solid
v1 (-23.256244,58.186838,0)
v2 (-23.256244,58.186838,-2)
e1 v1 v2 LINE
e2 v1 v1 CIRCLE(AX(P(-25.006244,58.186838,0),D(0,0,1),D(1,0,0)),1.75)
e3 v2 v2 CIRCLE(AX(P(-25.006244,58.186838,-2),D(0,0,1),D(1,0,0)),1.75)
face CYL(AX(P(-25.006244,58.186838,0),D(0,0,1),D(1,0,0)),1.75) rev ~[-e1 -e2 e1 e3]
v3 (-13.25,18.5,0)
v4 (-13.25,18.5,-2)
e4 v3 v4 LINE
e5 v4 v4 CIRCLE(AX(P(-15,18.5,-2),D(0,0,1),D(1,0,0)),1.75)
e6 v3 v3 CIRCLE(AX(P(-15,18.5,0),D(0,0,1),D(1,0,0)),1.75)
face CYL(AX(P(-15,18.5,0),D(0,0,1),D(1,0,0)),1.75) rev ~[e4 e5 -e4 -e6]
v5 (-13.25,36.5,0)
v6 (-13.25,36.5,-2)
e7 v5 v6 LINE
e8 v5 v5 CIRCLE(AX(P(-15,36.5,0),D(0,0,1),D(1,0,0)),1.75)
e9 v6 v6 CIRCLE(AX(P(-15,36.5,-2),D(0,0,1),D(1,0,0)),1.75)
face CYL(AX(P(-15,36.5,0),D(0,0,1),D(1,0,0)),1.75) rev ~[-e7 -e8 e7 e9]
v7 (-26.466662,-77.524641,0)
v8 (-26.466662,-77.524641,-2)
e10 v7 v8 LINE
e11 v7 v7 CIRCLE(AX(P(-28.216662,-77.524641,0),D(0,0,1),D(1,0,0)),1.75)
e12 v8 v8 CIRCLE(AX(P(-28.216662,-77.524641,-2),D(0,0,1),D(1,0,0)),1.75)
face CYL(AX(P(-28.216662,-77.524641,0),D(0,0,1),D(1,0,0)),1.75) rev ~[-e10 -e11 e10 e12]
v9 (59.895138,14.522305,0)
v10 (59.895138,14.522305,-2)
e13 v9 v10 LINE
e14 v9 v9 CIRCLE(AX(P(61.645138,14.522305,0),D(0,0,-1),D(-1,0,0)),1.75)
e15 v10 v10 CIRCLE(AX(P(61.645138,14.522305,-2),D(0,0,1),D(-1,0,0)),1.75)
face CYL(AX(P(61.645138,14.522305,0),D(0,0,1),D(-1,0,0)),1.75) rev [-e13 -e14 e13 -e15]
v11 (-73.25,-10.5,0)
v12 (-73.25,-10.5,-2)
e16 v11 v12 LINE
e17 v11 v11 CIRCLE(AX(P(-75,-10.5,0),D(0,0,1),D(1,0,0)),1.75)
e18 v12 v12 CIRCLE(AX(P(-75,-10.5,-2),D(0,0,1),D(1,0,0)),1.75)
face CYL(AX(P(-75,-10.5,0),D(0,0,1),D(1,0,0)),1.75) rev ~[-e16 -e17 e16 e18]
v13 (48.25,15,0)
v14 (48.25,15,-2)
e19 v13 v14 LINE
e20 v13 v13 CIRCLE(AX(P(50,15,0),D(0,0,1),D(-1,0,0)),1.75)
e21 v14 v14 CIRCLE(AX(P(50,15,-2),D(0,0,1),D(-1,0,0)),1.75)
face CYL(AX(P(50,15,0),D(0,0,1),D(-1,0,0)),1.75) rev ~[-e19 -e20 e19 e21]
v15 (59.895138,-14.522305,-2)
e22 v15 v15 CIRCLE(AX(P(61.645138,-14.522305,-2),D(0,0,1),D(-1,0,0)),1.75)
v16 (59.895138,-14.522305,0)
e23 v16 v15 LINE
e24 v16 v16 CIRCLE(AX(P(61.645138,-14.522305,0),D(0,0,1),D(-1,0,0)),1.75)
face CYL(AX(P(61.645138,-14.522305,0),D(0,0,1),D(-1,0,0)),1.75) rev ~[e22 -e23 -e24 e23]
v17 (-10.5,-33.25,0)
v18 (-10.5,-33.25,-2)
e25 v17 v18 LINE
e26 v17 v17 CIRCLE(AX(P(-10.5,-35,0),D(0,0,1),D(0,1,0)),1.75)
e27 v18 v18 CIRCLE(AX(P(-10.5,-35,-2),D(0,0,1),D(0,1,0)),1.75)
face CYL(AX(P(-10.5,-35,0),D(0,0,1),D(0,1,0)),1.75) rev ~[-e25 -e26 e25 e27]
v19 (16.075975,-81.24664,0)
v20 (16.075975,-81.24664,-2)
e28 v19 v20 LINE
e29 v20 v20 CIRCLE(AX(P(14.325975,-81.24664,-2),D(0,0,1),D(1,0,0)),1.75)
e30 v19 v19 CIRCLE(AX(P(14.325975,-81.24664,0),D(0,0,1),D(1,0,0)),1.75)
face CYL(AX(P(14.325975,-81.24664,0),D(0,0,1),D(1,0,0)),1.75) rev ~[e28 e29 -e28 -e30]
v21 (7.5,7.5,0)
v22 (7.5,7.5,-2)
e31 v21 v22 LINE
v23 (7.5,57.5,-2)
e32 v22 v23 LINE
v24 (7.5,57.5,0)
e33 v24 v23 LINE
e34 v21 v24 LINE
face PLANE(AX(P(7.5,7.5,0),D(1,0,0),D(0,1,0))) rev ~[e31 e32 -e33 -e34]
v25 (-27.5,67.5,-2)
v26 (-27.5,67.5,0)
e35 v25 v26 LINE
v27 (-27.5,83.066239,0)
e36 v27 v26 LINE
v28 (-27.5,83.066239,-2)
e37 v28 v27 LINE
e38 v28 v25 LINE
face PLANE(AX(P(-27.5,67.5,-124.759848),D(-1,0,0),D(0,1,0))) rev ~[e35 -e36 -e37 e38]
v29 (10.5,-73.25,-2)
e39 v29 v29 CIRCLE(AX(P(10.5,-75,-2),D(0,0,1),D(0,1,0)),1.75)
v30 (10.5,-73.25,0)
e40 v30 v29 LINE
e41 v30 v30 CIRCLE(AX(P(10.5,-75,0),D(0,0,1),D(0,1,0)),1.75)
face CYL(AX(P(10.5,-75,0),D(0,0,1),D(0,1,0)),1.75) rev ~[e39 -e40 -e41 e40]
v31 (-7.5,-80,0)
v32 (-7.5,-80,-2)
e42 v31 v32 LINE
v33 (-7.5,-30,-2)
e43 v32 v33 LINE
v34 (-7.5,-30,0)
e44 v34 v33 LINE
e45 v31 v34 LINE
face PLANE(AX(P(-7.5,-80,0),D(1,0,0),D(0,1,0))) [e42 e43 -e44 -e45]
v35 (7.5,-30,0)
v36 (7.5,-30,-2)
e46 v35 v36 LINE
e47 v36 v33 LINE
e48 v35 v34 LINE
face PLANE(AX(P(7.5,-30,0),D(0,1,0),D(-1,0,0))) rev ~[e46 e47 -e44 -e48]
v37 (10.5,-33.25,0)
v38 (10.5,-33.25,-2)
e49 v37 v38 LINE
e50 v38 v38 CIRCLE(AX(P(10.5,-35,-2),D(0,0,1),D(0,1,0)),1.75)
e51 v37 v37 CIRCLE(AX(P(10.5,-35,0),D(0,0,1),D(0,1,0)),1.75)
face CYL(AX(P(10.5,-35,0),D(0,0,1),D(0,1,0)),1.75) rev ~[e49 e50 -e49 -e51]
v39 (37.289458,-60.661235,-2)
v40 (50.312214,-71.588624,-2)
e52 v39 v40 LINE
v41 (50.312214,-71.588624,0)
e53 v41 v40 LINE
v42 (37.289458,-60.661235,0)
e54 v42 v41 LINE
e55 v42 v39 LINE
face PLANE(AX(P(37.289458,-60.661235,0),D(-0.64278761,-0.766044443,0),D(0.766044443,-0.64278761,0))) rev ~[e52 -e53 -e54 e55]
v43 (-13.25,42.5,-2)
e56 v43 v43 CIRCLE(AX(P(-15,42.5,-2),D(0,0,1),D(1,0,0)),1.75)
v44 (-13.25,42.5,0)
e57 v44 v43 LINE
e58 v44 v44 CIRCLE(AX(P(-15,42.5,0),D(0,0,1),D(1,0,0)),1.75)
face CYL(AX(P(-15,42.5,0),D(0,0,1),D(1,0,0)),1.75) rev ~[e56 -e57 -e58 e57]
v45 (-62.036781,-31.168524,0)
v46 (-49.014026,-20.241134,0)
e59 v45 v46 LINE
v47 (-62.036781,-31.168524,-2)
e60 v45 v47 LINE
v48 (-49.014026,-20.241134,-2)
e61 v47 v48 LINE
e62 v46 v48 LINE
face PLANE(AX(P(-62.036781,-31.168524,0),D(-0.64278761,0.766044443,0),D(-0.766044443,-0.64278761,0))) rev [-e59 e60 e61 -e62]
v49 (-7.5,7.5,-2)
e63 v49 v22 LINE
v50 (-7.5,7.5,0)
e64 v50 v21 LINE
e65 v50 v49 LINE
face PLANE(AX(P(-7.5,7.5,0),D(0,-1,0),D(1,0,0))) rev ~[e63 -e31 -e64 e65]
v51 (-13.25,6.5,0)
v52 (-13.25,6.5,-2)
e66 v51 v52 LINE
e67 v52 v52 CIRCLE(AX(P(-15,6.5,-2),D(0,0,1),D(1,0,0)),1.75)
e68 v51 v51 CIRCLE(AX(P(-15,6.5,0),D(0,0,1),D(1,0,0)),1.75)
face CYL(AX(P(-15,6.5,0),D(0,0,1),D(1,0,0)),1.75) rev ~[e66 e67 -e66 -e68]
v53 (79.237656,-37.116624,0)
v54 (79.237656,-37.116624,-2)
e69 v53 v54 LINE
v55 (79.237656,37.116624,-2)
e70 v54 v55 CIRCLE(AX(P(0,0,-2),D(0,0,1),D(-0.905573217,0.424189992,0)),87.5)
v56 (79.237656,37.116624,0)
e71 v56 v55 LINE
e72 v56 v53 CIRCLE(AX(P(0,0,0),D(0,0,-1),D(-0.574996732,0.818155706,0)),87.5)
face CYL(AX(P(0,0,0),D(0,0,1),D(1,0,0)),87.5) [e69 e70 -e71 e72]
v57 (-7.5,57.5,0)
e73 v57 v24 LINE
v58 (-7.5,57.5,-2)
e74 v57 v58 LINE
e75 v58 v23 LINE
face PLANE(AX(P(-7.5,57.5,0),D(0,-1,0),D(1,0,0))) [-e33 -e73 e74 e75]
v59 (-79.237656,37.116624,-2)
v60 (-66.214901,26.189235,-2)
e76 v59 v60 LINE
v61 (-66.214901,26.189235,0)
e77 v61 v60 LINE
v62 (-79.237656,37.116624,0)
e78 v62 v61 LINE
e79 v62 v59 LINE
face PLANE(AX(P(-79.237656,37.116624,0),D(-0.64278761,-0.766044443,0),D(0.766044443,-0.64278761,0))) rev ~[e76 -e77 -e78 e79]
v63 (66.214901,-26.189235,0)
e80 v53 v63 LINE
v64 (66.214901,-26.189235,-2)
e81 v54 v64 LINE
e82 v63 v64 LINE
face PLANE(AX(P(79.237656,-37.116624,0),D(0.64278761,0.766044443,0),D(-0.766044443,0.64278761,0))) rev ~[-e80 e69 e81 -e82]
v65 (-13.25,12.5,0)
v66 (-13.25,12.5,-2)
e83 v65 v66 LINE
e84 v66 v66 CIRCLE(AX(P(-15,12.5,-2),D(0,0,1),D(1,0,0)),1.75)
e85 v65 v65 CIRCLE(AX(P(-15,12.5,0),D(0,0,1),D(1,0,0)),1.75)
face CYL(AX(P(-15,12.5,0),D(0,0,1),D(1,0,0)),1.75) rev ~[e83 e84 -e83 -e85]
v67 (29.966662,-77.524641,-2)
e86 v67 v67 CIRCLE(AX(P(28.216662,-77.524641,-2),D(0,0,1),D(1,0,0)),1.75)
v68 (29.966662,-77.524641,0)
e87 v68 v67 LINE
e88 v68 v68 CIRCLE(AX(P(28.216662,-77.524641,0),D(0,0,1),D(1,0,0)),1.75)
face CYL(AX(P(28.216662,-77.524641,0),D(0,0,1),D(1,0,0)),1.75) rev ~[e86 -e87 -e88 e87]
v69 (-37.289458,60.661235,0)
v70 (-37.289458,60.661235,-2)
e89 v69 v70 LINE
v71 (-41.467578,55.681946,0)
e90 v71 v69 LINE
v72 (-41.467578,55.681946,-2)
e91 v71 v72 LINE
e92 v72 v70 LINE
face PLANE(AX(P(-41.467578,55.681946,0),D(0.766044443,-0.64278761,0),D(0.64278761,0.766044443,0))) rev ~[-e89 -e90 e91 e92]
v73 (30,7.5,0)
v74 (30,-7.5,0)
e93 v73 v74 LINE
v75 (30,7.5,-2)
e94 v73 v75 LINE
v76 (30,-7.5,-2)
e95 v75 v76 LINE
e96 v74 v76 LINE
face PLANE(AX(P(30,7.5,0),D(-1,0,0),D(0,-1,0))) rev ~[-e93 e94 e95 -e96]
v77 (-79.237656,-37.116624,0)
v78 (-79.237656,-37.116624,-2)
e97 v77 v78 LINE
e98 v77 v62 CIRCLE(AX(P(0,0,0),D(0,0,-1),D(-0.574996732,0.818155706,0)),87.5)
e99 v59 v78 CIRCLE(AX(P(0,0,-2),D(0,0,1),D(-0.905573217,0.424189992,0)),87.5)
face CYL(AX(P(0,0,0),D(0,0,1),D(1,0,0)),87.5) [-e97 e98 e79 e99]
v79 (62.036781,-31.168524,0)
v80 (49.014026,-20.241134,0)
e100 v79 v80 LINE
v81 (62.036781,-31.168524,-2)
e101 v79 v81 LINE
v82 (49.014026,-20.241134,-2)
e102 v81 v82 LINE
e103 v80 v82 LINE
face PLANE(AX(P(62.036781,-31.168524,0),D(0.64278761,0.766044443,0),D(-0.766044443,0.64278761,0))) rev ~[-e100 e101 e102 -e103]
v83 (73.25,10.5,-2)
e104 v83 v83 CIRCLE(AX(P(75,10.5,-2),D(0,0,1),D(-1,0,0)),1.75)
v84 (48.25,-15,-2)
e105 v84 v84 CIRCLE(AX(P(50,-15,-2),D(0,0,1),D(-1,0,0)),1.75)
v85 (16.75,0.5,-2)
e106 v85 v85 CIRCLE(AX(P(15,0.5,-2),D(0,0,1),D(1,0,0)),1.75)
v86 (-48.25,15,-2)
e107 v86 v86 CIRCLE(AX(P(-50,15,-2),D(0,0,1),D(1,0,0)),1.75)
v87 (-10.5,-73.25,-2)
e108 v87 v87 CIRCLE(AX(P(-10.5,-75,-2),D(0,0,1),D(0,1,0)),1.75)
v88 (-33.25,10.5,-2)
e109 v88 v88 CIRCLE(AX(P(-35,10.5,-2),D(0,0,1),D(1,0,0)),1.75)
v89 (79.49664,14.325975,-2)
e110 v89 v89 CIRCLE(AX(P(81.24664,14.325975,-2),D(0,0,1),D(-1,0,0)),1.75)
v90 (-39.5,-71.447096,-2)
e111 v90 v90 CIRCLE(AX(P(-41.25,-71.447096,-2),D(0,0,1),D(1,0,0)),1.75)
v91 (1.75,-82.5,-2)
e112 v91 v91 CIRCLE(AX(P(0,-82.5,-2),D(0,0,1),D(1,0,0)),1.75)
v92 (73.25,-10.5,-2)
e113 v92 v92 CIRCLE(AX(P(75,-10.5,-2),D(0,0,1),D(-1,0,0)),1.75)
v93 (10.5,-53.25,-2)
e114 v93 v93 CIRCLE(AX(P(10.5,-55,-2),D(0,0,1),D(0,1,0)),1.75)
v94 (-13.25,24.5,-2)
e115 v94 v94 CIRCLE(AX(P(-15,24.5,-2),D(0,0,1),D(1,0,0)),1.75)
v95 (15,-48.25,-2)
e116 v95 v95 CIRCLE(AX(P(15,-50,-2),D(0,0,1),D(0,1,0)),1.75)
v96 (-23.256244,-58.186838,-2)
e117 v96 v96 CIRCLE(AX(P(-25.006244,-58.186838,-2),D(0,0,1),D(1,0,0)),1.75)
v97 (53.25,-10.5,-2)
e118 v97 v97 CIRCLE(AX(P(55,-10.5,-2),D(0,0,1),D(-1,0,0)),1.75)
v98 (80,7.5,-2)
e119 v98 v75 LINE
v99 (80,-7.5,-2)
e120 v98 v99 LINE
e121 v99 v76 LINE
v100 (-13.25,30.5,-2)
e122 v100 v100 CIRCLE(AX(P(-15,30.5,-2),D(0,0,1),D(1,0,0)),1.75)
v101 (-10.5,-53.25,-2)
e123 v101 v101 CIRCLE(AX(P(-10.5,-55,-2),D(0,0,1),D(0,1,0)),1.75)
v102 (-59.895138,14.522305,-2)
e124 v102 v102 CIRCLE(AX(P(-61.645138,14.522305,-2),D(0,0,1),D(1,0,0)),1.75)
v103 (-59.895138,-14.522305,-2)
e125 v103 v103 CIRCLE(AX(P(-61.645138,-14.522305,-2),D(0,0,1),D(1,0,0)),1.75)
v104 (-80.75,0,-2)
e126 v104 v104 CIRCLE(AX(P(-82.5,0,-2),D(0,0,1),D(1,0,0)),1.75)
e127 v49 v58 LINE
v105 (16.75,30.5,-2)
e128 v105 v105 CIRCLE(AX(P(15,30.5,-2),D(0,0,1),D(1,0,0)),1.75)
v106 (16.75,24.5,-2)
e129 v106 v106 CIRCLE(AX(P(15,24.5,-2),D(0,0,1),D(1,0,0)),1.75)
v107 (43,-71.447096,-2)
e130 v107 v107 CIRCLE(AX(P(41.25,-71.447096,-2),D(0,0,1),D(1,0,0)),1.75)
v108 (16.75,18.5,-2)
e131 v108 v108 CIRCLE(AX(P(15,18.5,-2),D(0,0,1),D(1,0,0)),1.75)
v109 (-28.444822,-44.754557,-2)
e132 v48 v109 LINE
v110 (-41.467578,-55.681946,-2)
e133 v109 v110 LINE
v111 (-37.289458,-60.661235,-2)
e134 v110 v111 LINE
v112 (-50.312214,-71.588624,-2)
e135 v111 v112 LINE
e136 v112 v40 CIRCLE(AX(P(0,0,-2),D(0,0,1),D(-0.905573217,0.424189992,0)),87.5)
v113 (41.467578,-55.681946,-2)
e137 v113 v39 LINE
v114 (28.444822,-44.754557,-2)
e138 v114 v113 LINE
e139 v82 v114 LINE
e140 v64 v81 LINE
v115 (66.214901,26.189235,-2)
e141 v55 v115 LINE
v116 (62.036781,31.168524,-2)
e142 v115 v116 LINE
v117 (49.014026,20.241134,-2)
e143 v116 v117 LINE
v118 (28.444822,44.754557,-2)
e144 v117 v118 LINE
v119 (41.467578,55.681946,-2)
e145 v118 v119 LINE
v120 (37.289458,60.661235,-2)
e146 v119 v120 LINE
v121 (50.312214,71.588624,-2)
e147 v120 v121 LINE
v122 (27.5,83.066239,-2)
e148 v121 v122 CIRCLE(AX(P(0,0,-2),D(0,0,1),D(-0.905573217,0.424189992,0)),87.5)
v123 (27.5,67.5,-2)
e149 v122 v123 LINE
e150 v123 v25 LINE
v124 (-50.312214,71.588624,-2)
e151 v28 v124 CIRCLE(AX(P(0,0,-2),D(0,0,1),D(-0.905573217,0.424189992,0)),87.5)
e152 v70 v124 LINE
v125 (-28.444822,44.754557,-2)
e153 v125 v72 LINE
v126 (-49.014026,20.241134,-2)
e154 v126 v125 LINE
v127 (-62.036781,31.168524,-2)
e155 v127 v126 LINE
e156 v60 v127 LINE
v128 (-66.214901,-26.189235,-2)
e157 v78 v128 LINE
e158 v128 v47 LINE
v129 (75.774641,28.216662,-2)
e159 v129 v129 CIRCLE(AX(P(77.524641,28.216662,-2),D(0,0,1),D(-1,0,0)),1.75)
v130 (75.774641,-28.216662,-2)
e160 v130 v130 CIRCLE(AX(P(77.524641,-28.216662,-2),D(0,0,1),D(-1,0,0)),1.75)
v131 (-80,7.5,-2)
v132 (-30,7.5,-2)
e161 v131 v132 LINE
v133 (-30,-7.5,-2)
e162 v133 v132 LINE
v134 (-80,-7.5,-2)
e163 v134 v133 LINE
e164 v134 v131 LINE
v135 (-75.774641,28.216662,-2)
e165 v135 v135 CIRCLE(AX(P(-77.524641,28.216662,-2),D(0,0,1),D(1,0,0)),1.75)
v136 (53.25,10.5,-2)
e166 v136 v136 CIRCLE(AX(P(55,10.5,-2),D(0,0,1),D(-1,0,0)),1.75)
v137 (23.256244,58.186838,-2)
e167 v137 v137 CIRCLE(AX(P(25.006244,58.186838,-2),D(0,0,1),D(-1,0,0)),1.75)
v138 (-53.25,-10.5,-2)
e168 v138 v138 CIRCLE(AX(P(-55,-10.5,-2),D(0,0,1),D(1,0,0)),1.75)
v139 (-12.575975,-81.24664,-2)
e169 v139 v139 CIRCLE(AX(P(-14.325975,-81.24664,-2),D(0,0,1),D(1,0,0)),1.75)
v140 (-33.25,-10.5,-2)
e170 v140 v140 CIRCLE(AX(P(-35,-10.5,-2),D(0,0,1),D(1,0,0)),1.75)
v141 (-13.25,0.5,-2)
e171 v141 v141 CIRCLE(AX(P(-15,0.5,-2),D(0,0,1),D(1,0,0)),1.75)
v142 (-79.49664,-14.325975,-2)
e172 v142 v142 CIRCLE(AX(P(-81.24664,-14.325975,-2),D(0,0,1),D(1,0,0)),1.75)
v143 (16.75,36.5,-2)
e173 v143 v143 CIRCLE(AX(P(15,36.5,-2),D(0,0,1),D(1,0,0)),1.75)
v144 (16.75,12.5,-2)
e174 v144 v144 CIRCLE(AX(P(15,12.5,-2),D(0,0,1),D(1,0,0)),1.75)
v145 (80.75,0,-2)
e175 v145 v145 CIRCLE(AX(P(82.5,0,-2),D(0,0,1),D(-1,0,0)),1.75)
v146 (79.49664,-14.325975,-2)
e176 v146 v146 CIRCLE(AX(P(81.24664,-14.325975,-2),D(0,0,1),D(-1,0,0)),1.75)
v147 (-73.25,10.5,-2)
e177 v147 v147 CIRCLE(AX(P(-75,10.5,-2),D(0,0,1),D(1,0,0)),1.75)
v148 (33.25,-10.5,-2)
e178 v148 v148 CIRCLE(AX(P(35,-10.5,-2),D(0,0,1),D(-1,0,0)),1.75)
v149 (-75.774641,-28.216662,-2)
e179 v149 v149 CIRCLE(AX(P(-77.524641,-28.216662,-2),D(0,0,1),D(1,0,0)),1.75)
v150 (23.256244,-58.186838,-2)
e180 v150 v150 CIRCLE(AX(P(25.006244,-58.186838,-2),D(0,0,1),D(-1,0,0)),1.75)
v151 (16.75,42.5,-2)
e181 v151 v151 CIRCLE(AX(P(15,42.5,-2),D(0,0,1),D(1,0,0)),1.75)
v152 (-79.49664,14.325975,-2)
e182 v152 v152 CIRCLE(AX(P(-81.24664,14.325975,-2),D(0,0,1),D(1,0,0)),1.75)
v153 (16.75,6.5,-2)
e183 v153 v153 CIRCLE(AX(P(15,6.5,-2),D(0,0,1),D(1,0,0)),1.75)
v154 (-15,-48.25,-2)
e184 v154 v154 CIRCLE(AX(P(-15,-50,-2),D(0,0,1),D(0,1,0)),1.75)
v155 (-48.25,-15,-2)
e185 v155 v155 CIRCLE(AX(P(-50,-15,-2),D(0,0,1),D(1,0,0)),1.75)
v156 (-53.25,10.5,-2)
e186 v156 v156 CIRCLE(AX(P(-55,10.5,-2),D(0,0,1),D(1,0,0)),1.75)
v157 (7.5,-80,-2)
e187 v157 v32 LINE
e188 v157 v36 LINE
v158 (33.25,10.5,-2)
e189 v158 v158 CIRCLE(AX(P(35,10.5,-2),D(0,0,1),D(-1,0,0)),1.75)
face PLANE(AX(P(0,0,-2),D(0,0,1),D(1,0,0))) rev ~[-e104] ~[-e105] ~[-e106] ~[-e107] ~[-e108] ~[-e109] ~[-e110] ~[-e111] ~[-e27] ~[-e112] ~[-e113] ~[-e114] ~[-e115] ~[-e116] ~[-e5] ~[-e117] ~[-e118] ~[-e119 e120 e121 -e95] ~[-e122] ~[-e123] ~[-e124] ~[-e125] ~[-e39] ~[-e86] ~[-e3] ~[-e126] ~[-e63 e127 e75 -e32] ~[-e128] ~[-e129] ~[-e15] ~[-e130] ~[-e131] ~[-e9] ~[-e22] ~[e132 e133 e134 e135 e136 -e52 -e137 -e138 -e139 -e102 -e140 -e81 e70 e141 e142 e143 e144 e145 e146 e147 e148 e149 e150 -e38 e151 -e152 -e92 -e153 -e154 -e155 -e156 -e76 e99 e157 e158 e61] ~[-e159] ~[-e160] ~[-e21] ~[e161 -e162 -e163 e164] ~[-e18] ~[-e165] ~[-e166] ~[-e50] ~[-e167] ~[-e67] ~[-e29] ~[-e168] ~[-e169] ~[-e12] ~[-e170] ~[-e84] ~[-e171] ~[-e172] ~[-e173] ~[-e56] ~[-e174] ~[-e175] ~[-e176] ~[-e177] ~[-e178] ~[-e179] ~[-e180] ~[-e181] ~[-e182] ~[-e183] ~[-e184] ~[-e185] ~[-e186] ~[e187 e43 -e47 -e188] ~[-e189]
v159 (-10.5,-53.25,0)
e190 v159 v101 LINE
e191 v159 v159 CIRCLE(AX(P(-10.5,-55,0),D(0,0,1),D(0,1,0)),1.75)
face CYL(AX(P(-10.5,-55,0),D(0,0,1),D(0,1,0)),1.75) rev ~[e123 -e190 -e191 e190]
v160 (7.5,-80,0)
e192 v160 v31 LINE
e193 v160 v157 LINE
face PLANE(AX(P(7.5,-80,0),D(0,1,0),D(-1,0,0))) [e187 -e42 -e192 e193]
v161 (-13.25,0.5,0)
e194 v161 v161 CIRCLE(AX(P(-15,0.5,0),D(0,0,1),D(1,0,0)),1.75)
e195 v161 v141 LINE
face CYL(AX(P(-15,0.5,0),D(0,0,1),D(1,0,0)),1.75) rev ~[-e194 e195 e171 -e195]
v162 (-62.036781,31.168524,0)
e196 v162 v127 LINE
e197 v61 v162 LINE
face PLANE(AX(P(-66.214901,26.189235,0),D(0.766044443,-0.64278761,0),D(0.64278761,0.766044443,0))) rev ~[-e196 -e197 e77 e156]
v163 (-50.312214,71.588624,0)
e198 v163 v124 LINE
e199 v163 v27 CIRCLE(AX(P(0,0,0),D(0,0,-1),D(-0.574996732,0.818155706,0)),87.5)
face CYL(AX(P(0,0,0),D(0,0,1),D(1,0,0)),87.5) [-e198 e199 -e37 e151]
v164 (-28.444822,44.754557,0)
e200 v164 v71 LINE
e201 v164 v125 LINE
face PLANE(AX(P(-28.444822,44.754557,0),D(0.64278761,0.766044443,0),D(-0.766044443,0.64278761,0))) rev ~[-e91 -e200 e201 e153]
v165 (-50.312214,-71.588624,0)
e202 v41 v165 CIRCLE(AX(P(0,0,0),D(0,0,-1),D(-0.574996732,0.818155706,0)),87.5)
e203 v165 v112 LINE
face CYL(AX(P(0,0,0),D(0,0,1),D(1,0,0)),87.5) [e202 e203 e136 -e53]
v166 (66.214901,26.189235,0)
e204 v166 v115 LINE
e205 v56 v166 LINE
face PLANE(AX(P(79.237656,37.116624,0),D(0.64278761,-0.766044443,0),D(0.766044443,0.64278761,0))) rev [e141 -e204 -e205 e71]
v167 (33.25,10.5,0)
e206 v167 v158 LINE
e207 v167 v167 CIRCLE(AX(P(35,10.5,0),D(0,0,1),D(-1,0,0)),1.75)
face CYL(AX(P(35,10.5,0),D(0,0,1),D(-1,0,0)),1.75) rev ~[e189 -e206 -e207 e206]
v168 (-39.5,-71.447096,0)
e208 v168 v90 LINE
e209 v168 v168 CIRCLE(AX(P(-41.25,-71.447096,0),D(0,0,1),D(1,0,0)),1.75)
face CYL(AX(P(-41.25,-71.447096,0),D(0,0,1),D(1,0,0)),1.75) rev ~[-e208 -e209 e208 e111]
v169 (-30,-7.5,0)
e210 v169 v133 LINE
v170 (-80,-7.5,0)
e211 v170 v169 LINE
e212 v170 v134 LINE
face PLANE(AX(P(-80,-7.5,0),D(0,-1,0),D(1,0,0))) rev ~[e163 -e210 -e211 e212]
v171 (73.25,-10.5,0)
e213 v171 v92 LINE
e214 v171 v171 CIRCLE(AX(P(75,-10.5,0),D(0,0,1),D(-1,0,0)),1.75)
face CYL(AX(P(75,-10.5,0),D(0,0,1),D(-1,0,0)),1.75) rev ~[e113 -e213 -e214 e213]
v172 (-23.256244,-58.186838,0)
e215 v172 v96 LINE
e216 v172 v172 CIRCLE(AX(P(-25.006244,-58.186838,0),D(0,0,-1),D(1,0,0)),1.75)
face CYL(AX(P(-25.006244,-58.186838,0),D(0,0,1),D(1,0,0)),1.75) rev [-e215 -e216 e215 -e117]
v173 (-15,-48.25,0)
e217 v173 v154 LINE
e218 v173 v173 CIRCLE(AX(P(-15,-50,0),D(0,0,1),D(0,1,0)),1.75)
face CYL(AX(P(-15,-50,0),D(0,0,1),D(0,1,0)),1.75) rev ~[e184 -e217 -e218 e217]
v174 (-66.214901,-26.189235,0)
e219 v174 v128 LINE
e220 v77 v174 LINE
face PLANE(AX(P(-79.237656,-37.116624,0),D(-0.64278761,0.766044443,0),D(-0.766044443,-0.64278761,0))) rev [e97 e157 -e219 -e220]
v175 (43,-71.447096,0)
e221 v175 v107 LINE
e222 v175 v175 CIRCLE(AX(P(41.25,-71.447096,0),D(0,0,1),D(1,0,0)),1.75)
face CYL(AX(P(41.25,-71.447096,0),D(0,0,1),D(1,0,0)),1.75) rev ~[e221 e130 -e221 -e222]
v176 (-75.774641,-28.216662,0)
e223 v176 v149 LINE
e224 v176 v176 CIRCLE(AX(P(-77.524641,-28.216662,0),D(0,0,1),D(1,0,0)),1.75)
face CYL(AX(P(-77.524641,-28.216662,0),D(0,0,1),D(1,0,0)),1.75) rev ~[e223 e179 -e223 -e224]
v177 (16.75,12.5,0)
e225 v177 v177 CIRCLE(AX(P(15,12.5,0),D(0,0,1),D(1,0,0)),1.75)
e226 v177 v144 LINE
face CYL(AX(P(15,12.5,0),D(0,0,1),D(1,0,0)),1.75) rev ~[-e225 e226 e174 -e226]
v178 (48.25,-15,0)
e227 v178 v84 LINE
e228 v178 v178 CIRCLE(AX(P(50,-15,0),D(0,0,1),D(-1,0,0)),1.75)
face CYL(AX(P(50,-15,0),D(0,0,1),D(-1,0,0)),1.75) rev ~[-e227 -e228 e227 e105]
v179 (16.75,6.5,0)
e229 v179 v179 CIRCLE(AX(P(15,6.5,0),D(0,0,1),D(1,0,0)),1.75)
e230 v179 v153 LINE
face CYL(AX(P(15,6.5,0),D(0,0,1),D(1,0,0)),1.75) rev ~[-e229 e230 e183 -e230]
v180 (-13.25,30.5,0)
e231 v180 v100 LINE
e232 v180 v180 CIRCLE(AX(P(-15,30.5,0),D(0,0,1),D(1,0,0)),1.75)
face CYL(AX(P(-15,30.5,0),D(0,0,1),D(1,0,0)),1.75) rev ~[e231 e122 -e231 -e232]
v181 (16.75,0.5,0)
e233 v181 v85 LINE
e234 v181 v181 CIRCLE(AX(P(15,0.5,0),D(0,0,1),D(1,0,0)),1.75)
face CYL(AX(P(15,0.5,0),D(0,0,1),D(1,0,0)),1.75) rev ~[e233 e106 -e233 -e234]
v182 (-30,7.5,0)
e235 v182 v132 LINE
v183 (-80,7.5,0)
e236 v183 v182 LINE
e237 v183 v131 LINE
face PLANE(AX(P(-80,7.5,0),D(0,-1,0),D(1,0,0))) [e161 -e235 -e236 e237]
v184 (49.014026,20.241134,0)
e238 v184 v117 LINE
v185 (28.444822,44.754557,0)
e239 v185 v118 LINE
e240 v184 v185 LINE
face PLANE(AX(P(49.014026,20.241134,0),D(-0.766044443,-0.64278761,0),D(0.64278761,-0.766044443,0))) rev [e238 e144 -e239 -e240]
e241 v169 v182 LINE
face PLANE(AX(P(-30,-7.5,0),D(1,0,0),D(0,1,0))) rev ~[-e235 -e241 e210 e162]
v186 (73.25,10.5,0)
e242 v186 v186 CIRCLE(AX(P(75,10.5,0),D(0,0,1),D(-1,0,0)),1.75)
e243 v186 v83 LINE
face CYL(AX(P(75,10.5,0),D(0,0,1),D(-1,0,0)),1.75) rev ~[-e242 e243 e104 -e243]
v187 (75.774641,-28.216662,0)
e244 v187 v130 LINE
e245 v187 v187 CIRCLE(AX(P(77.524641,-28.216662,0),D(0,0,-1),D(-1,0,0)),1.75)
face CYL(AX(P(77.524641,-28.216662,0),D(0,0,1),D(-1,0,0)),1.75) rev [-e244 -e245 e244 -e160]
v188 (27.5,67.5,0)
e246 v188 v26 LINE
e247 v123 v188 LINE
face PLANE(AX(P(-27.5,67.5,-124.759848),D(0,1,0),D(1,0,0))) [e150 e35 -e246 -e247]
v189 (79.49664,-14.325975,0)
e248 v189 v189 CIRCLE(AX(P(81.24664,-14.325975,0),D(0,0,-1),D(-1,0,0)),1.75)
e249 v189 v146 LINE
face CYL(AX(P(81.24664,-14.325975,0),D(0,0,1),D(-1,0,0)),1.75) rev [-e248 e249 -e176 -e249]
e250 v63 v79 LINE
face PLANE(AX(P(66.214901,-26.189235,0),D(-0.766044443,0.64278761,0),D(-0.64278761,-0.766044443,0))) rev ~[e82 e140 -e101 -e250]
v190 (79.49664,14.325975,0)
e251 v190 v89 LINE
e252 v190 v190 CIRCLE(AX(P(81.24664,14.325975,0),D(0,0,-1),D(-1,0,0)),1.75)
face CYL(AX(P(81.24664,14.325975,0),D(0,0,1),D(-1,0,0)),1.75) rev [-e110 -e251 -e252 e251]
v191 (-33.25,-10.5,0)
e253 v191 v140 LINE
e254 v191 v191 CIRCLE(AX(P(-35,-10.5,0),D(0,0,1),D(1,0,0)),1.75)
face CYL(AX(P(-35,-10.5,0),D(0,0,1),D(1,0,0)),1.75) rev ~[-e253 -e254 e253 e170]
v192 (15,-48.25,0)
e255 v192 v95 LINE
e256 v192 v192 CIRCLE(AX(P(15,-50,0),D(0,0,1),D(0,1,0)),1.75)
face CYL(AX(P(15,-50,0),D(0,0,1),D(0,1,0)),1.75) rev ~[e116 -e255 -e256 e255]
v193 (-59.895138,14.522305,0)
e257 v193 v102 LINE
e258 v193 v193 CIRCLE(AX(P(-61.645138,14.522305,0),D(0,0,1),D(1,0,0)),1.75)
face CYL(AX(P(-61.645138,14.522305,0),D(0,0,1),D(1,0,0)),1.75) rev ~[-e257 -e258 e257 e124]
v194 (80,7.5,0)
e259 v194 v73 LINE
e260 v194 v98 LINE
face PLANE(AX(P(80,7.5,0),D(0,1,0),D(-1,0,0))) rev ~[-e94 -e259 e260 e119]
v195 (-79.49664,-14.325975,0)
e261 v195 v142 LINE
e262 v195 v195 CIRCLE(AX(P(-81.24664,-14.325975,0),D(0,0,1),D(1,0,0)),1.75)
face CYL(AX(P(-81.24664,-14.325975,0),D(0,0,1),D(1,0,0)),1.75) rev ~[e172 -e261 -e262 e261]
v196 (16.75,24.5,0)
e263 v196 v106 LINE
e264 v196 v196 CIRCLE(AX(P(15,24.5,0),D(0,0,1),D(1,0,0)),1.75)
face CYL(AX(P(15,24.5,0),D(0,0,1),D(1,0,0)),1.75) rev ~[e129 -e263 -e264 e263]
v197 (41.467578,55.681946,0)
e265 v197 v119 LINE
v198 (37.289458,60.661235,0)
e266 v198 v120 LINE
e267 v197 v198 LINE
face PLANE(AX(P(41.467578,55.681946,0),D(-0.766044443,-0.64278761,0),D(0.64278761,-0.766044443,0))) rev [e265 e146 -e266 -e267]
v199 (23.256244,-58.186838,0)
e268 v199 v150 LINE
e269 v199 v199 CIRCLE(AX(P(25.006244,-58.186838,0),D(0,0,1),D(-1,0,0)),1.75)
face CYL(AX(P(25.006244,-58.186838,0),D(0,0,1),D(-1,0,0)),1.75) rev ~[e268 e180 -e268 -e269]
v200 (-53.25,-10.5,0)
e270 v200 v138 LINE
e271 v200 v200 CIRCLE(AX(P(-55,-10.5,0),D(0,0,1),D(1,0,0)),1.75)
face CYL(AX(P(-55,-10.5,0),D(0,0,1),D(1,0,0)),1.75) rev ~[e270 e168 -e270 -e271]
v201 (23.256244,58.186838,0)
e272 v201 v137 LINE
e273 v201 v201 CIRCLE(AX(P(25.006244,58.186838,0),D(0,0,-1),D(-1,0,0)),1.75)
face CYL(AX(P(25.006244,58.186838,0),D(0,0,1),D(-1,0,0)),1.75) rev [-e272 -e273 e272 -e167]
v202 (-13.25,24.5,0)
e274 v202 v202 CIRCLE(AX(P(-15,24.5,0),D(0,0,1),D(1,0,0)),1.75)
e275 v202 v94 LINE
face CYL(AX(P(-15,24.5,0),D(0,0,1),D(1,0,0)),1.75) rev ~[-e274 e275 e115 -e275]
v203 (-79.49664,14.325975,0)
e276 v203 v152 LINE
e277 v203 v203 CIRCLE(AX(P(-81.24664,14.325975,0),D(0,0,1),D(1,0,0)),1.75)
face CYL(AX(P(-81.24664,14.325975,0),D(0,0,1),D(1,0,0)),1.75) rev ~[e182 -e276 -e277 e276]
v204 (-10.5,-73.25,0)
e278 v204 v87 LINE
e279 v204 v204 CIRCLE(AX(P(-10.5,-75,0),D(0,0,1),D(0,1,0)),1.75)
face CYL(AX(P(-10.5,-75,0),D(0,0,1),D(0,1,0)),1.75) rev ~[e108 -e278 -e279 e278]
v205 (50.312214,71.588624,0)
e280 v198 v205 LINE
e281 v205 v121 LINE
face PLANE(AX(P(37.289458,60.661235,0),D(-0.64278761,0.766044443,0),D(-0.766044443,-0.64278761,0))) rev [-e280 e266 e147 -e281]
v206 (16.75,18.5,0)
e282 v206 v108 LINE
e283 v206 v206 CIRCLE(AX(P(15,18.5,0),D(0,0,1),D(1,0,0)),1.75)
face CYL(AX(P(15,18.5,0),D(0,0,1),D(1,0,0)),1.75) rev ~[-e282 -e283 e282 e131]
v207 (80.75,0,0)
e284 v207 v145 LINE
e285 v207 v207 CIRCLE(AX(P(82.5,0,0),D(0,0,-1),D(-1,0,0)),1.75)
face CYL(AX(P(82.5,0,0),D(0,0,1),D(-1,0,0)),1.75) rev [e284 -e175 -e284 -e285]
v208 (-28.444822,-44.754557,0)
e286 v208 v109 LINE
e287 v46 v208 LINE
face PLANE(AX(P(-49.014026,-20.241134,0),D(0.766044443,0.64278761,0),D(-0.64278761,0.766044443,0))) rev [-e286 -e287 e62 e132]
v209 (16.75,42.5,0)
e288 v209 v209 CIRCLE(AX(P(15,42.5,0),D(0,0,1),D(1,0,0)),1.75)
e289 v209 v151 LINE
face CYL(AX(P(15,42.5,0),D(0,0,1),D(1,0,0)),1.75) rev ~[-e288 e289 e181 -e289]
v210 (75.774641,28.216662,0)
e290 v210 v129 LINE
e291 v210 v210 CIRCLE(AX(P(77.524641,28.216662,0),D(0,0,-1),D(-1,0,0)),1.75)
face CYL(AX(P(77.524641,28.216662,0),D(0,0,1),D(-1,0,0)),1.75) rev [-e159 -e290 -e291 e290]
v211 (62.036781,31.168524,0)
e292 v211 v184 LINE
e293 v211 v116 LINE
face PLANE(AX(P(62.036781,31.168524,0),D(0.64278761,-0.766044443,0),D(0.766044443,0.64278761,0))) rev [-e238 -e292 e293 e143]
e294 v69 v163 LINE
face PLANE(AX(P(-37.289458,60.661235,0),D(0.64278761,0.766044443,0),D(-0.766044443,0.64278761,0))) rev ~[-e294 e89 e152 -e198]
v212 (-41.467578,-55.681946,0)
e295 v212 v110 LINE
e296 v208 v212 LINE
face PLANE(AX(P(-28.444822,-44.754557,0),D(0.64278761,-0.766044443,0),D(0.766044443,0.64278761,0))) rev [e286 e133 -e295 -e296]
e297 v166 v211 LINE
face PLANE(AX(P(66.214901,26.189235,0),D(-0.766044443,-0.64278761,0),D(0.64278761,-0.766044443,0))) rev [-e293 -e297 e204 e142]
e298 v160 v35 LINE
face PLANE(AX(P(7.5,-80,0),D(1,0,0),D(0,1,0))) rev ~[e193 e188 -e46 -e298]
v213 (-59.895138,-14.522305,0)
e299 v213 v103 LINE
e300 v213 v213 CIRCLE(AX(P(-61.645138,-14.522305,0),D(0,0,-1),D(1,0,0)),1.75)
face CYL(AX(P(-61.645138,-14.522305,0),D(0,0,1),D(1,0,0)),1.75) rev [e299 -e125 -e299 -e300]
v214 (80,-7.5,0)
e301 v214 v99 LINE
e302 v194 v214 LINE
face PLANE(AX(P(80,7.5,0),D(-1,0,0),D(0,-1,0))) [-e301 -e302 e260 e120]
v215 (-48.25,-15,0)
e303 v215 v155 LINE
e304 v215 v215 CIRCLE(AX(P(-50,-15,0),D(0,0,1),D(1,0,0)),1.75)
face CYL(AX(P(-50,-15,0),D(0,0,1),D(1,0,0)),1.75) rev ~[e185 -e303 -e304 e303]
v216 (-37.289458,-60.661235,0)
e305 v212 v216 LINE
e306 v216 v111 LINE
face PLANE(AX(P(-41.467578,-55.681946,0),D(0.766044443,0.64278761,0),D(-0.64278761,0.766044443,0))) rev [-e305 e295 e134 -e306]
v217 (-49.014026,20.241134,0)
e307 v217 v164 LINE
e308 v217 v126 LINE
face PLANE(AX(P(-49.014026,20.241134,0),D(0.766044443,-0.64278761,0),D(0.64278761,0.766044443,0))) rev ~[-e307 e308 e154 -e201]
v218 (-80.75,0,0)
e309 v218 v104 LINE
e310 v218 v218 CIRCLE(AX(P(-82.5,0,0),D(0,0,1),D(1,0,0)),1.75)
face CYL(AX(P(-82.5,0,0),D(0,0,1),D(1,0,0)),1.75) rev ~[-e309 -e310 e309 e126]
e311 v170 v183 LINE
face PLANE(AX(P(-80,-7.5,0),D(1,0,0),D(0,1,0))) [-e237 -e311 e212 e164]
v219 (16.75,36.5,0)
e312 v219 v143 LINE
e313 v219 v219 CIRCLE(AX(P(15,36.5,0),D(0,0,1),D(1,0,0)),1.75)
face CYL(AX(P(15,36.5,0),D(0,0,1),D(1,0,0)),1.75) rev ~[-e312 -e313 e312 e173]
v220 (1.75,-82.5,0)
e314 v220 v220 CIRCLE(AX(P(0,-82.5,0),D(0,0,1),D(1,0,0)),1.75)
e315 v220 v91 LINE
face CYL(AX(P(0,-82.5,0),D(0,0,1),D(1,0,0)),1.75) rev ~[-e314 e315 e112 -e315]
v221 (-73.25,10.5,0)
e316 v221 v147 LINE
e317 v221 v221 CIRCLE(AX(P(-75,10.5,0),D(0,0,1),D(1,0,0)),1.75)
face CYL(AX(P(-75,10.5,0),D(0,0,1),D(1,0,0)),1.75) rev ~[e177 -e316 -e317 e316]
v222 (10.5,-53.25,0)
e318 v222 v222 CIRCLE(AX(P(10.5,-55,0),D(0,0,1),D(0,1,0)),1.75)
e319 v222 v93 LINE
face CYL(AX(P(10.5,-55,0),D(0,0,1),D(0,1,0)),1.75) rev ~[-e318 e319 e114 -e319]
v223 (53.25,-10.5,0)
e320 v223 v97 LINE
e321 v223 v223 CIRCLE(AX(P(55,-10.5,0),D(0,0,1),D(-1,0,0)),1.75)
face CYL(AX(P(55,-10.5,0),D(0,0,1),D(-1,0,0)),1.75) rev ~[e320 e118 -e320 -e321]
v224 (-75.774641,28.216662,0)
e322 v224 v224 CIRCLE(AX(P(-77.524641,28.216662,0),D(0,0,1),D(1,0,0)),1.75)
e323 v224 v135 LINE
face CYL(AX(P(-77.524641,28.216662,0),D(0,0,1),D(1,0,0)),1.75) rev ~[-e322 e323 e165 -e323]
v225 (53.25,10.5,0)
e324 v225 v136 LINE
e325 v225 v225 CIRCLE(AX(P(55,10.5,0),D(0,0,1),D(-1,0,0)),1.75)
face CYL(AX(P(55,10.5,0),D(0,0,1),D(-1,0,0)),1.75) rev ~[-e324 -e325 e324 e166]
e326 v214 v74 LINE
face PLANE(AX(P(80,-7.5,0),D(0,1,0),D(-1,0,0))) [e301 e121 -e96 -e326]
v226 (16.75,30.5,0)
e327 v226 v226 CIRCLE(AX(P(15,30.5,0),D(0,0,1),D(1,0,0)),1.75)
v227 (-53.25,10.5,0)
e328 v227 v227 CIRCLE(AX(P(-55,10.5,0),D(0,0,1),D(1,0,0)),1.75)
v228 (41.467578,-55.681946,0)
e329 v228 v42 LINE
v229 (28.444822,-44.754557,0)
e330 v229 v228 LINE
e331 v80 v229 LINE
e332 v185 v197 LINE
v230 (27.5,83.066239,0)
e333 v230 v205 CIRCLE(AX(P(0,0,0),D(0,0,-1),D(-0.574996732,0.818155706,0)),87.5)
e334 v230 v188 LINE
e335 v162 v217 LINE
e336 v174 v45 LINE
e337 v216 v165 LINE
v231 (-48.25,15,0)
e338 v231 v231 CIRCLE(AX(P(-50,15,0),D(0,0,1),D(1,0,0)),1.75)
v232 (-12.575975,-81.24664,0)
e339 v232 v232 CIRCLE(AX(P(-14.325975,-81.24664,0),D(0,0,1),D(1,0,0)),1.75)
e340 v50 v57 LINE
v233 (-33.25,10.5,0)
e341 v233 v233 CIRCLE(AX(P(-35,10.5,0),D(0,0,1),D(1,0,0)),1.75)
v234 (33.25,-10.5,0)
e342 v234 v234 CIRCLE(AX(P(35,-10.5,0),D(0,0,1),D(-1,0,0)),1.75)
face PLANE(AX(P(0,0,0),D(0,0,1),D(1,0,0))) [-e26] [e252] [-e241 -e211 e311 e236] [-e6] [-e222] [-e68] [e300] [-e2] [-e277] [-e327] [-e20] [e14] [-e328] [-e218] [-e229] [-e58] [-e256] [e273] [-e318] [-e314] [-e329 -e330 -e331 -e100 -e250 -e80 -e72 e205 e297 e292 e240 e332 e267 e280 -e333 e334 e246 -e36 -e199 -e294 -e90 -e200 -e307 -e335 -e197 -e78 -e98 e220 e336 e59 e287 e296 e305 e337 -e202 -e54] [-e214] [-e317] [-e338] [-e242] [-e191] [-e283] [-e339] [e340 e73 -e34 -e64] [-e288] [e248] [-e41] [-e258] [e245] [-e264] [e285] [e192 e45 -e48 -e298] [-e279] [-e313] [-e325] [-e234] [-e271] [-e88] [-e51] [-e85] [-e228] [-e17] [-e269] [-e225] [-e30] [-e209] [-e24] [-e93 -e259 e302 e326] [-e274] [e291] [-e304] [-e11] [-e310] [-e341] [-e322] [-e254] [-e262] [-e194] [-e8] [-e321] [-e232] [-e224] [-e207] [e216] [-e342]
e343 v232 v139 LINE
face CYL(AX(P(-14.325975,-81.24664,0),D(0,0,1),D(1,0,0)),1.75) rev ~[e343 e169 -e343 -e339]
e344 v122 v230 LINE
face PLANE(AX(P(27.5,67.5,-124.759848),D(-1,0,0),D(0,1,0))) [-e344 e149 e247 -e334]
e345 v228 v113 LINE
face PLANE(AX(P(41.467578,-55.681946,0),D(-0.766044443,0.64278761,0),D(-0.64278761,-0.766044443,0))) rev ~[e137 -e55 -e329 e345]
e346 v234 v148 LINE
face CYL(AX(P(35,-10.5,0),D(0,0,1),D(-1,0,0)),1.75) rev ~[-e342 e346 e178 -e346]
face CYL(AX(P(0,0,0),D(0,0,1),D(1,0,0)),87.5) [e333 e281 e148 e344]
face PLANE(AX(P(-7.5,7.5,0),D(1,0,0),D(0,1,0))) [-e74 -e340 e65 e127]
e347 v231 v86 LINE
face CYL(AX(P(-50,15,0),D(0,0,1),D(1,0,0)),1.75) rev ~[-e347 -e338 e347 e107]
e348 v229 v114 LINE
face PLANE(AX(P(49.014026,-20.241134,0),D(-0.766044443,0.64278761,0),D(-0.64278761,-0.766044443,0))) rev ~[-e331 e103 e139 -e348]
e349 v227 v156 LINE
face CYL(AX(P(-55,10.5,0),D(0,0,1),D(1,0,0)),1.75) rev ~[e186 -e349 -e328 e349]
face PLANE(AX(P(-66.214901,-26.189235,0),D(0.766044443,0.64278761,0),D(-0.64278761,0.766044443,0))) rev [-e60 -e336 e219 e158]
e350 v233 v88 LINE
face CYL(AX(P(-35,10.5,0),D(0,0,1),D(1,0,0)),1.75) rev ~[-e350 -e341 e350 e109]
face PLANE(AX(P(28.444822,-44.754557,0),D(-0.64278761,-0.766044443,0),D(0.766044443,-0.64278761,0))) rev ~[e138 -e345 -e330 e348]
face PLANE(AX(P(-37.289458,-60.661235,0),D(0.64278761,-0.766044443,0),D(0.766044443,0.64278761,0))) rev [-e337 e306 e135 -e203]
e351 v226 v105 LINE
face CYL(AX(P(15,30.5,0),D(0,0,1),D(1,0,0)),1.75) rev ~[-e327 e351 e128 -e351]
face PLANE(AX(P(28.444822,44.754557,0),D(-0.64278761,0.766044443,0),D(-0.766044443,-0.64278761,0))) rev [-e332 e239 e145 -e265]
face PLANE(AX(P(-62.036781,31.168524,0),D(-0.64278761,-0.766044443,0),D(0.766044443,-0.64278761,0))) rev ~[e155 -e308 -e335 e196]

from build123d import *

# Parameters (mm, degrees)
SKETCH1_R                                  = 87.5
BOSS_EXTRUDE1_DEPTH                        = 2
SKETCH3_R                                  = 1.75
CUT_EXTRUDE1_DEPTH                         = 124.759848093
MIRROR1_AT_THE_SECOND_PLANE_COPY_1_SKETC_R = 1.75
MIRROR1_AT_THE_SECOND_PLANE_COPY_1_DEPTH   = 124.759848093
CUT_EXTRUDE2_DEPTH                         = 124.759848093
CUT_EXTRUDE2_DEPTH_BACK                    = 124.759848093
SKETCH4_W                                  = 55
SKETCH4_H                                  = 40
SKETCH5_R                                  = 1.75
CUT_EXTRUDE3_DEPTH                         = 124.759848093
SKETCH8_W                                  = 50
SKETCH8_H                                  = 15
CUT_EXTRUDE4_DEPTH                         = 124.759848093
SKETCH9_R                                  = 1.75
CUT_EXTRUDE5_DEPTH                         = 124.759848093
CIRPATTERN1_COUNT                          = 3
CIRPATTERN1_ANGLE                          = 180
SKETCH10_W                                 = 15
SKETCH10_H                                 = 50
CUT_EXTRUDE6_DEPTH                         = 124.759848093
SKETCH11_R                                 = 1.75
CUT_EXTRUDE7_DEPTH                         = 124.759848093
SKETCH12_R                                 = 1.75
CUT_EXTRUDE8_DEPTH                         = 124.759848093
SKETCH13_R                                 = 1.75
CUT_EXTRUDE9_DEPTH                         = 124.759848093


with BuildPart() as part:
    # Sketch1 → Boss-Extrude1 (new body)
    with BuildSketch(Plane.XY):
        Circle(SKETCH1_R)
    extrude(amount=-BOSS_EXTRUDE1_DEPTH)

    # Sketch3 → Cut-Extrude1 (cut, through all)
    with BuildSketch(Plane.XY):
        with BuildLine():
            Line((-62.036781461, 31.168523814), (-49.014025927, 20.241134449))
            Line((-49.014025927, 20.241134449), (-28.444822418, 44.754556629))
            Line((-28.444822418, 44.754556629), (-41.467577951, 55.681945993))
            Line((-41.467577951, 55.681945993), (-37.289458488, 60.661234874))
            Line((-37.289458488, 60.661234874), (-50.312214021, 71.588624238))
            ThreePointArc((-50.312214021, 71.588624238), (-67.028888773, 56.243915848), (-79.237656457, 37.116624298))
            Line((-79.237656457, 37.116624298), (-66.214900923, 26.189234933))
            Line((-66.214900923, 26.189234933), (-62.036781461, 31.168523814))
        make_face()
        with Locations((-61.645137707, 14.522304568)):
            Circle(SKETCH3_R)
        with Locations((-25.006243955, 58.186837826)):
            Circle(SKETCH3_R)
    cut_extrude1 = extrude(amount=-CUT_EXTRUDE1_DEPTH, mode=Mode.SUBTRACT)

    # Mirror1: Cut-Extrude1 across plane
    add(cut_extrude1.mirror(Plane(origin=(0, 0, 0), x_dir=(0, 0, 1), z_dir=(1, 0, 0))), mode=Mode.SUBTRACT)

    # Mirror1 at the second plane: Cut-Extrude1 across plane
    add(cut_extrude1.mirror(Plane.ZX), mode=Mode.SUBTRACT)

    # Mirror1 at the second plane copy 1 sketc → Mirror1 at the second plane copy 1 (cut, through all)
    with BuildSketch(Plane(origin=(0, 0, 0), x_dir=(-1, 0, 0), z_dir=(0, 0, 1))):
        with BuildLine():
            Line((-62.036781461, 31.168523814), (-49.014025927, 20.241134449))
            Line((-49.014025927, 20.241134449), (-28.444822418, 44.754556629))
            Line((-28.444822418, 44.754556629), (-41.467577951, 55.681945993))
            Line((-41.467577951, 55.681945993), (-37.289458488, 60.661234874))
            Line((-37.289458488, 60.661234874), (-50.312214021, 71.588624238))
            ThreePointArc((-50.312214021, 71.588624238), (-67.028888773, 56.243915848), (-79.237656457, 37.116624298))
            Line((-79.237656457, 37.116624298), (-66.214900923, 26.189234933))
            Line((-66.214900923, 26.189234933), (-62.036781461, 31.168523814))
        make_face()
        with Locations((-61.645137707, 14.522304568)):
            Circle(MIRROR1_AT_THE_SECOND_PLANE_COPY_1_SKETC_R)
        with Locations((-25.006243955, 58.186837826)):
            Circle(MIRROR1_AT_THE_SECOND_PLANE_COPY_1_SKETC_R)
    extrude(amount=-MIRROR1_AT_THE_SECOND_PLANE_COPY_1_DEPTH, mode=Mode.SUBTRACT)

    # Sketch4 → Cut-Extrude2 (cut, two sides: drawn at the far end of the back side and taken through both)
    with BuildSketch(Plane.XY.offset(-CUT_EXTRUDE2_DEPTH_BACK)):
        with Locations((0, 87.5)):
            Rectangle(SKETCH4_W, SKETCH4_H)
    extrude(amount=CUT_EXTRUDE2_DEPTH + CUT_EXTRUDE2_DEPTH_BACK, mode=Mode.SUBTRACT)

    # Sketch5 → Cut-Extrude3 (cut, through all)
    with BuildSketch(Plane.XY):
        with Locations((-50, 15)):
            Circle(SKETCH5_R)
        with Locations((-50, -15)):
            Circle(SKETCH5_R)
    cut_extrude3 = extrude(amount=-CUT_EXTRUDE3_DEPTH, mode=Mode.SUBTRACT)

    # Sketch8 → Cut-Extrude4 (cut, through all)
    with BuildSketch(Plane.XY):
        with Locations((-55, 0)):
            Rectangle(SKETCH8_W, SKETCH8_H)
    cut_extrude4 = extrude(amount=-CUT_EXTRUDE4_DEPTH, mode=Mode.SUBTRACT)

    # Sketch9 → Cut-Extrude5 (cut, through all)
    with BuildSketch(Plane.XY):
        with Locations((-35, 10.5)):
            Circle(SKETCH9_R)
        with Locations((-35, -10.5)):
            Circle(SKETCH9_R)
        with Locations((-55, 10.5)):
            Circle(SKETCH9_R)
        with Locations((-55, -10.5)):
            Circle(SKETCH9_R)
        with Locations((-75, 10.5)):
            Circle(SKETCH9_R)
        with Locations((-75, -10.5)):
            Circle(SKETCH9_R)
    cut_extrude5 = extrude(amount=-CUT_EXTRUDE5_DEPTH, mode=Mode.SUBTRACT)

    # CirPattern1: Cut-Extrude3, Cut-Extrude4, Cut-Extrude5 ×3 about axis
    cirpattern1_axis = Axis((0, 0, 0), (0, 0, 1))
    add([cut_extrude3.rotate(cirpattern1_axis, i * CIRPATTERN1_ANGLE / (CIRPATTERN1_COUNT - 1)) for i in range(1, CIRPATTERN1_COUNT)], mode=Mode.SUBTRACT)
    add([cut_extrude4.rotate(cirpattern1_axis, i * CIRPATTERN1_ANGLE / (CIRPATTERN1_COUNT - 1)) for i in range(1, CIRPATTERN1_COUNT)], mode=Mode.SUBTRACT)
    add([cut_extrude5.rotate(cirpattern1_axis, i * CIRPATTERN1_ANGLE / (CIRPATTERN1_COUNT - 1)) for i in range(1, CIRPATTERN1_COUNT)], mode=Mode.SUBTRACT)

    # Sketch10 → Cut-Extrude6 (cut, through all)
    with BuildSketch(Plane.XY):
        with Locations((0, 32.5)):
            Rectangle(SKETCH10_W, SKETCH10_H)
    extrude(amount=-CUT_EXTRUDE6_DEPTH, mode=Mode.SUBTRACT)

    # Sketch11 → Cut-Extrude7 (cut, through all)
    with BuildSketch(Plane.XY):
        with Locations((-15, 42.5)):
            Circle(SKETCH11_R)
        with Locations((15, 42.5)):
            Circle(SKETCH11_R)
        with Locations((-15, 36.5)):
            Circle(SKETCH11_R)
        with Locations((15, 36.5)):
            Circle(SKETCH11_R)
        with Locations((-15, 30.5)):
            Circle(SKETCH11_R)
        with Locations((15, 30.5)):
            Circle(SKETCH11_R)
        with Locations((-15, 24.5)):
            Circle(SKETCH11_R)
        with Locations((15, 24.5)):
            Circle(SKETCH11_R)
        with Locations((-15, 18.5)):
            Circle(SKETCH11_R)
        with Locations((15, 18.5)):
            Circle(SKETCH11_R)
        with Locations((-15, 12.5)):
            Circle(SKETCH11_R)
        with Locations((15, 12.5)):
            Circle(SKETCH11_R)
        with Locations((-15, 6.5)):
            Circle(SKETCH11_R)
        with Locations((15, 6.5)):
            Circle(SKETCH11_R)
        with Locations((-15, 0.5)):
            Circle(SKETCH11_R)
        with Locations((15, 0.5)):
            Circle(SKETCH11_R)
    extrude(amount=-CUT_EXTRUDE7_DEPTH, mode=Mode.SUBTRACT)

    # Sketch12 → Cut-Extrude8 (cut, through all)
    with BuildSketch(Plane.XY):
        with Locations((-77.524641215, 28.216661824)):
            Circle(SKETCH12_R)
        with Locations((-81.246639624, 14.325974658)):
            Circle(SKETCH12_R)
        with Locations((-82.5, 0)):
            Circle(SKETCH12_R)
        with Locations((-81.246639624, -14.325974658)):
            Circle(SKETCH12_R)
        with Locations((-77.524641215, -28.216661824)):
            Circle(SKETCH12_R)
    cut_extrude8 = extrude(amount=-CUT_EXTRUDE8_DEPTH, mode=Mode.SUBTRACT)

    # Mirror2: Cut-Extrude8 across plane
    add(cut_extrude8.mirror(Plane(origin=(0, 0, 0), x_dir=(0, 0, 1), z_dir=(1, 0, 0))), mode=Mode.SUBTRACT)

    # Sketch13 → Cut-Extrude9 (cut, through all)
    with BuildSketch(Plane.XY):
        with Locations((-41.25, -71.447095812)):
            Circle(SKETCH13_R)
        with Locations((-28.216661824, -77.524641215)):
            Circle(SKETCH13_R)
        with Locations((-14.325974658, -81.246639624)):
            Circle(SKETCH13_R)
        with Locations((0, -82.5)):
            Circle(SKETCH13_R)
        with Locations((14.325974658, -81.246639624)):
            Circle(SKETCH13_R)
        with Locations((28.216661824, -77.524641215)):
            Circle(SKETCH13_R)
        with Locations((41.25, -71.447095812)):
            Circle(SKETCH13_R)
    extrude(amount=-CUT_EXTRUDE9_DEPTH, mode=Mode.SUBTRACT)


solid = part.part
